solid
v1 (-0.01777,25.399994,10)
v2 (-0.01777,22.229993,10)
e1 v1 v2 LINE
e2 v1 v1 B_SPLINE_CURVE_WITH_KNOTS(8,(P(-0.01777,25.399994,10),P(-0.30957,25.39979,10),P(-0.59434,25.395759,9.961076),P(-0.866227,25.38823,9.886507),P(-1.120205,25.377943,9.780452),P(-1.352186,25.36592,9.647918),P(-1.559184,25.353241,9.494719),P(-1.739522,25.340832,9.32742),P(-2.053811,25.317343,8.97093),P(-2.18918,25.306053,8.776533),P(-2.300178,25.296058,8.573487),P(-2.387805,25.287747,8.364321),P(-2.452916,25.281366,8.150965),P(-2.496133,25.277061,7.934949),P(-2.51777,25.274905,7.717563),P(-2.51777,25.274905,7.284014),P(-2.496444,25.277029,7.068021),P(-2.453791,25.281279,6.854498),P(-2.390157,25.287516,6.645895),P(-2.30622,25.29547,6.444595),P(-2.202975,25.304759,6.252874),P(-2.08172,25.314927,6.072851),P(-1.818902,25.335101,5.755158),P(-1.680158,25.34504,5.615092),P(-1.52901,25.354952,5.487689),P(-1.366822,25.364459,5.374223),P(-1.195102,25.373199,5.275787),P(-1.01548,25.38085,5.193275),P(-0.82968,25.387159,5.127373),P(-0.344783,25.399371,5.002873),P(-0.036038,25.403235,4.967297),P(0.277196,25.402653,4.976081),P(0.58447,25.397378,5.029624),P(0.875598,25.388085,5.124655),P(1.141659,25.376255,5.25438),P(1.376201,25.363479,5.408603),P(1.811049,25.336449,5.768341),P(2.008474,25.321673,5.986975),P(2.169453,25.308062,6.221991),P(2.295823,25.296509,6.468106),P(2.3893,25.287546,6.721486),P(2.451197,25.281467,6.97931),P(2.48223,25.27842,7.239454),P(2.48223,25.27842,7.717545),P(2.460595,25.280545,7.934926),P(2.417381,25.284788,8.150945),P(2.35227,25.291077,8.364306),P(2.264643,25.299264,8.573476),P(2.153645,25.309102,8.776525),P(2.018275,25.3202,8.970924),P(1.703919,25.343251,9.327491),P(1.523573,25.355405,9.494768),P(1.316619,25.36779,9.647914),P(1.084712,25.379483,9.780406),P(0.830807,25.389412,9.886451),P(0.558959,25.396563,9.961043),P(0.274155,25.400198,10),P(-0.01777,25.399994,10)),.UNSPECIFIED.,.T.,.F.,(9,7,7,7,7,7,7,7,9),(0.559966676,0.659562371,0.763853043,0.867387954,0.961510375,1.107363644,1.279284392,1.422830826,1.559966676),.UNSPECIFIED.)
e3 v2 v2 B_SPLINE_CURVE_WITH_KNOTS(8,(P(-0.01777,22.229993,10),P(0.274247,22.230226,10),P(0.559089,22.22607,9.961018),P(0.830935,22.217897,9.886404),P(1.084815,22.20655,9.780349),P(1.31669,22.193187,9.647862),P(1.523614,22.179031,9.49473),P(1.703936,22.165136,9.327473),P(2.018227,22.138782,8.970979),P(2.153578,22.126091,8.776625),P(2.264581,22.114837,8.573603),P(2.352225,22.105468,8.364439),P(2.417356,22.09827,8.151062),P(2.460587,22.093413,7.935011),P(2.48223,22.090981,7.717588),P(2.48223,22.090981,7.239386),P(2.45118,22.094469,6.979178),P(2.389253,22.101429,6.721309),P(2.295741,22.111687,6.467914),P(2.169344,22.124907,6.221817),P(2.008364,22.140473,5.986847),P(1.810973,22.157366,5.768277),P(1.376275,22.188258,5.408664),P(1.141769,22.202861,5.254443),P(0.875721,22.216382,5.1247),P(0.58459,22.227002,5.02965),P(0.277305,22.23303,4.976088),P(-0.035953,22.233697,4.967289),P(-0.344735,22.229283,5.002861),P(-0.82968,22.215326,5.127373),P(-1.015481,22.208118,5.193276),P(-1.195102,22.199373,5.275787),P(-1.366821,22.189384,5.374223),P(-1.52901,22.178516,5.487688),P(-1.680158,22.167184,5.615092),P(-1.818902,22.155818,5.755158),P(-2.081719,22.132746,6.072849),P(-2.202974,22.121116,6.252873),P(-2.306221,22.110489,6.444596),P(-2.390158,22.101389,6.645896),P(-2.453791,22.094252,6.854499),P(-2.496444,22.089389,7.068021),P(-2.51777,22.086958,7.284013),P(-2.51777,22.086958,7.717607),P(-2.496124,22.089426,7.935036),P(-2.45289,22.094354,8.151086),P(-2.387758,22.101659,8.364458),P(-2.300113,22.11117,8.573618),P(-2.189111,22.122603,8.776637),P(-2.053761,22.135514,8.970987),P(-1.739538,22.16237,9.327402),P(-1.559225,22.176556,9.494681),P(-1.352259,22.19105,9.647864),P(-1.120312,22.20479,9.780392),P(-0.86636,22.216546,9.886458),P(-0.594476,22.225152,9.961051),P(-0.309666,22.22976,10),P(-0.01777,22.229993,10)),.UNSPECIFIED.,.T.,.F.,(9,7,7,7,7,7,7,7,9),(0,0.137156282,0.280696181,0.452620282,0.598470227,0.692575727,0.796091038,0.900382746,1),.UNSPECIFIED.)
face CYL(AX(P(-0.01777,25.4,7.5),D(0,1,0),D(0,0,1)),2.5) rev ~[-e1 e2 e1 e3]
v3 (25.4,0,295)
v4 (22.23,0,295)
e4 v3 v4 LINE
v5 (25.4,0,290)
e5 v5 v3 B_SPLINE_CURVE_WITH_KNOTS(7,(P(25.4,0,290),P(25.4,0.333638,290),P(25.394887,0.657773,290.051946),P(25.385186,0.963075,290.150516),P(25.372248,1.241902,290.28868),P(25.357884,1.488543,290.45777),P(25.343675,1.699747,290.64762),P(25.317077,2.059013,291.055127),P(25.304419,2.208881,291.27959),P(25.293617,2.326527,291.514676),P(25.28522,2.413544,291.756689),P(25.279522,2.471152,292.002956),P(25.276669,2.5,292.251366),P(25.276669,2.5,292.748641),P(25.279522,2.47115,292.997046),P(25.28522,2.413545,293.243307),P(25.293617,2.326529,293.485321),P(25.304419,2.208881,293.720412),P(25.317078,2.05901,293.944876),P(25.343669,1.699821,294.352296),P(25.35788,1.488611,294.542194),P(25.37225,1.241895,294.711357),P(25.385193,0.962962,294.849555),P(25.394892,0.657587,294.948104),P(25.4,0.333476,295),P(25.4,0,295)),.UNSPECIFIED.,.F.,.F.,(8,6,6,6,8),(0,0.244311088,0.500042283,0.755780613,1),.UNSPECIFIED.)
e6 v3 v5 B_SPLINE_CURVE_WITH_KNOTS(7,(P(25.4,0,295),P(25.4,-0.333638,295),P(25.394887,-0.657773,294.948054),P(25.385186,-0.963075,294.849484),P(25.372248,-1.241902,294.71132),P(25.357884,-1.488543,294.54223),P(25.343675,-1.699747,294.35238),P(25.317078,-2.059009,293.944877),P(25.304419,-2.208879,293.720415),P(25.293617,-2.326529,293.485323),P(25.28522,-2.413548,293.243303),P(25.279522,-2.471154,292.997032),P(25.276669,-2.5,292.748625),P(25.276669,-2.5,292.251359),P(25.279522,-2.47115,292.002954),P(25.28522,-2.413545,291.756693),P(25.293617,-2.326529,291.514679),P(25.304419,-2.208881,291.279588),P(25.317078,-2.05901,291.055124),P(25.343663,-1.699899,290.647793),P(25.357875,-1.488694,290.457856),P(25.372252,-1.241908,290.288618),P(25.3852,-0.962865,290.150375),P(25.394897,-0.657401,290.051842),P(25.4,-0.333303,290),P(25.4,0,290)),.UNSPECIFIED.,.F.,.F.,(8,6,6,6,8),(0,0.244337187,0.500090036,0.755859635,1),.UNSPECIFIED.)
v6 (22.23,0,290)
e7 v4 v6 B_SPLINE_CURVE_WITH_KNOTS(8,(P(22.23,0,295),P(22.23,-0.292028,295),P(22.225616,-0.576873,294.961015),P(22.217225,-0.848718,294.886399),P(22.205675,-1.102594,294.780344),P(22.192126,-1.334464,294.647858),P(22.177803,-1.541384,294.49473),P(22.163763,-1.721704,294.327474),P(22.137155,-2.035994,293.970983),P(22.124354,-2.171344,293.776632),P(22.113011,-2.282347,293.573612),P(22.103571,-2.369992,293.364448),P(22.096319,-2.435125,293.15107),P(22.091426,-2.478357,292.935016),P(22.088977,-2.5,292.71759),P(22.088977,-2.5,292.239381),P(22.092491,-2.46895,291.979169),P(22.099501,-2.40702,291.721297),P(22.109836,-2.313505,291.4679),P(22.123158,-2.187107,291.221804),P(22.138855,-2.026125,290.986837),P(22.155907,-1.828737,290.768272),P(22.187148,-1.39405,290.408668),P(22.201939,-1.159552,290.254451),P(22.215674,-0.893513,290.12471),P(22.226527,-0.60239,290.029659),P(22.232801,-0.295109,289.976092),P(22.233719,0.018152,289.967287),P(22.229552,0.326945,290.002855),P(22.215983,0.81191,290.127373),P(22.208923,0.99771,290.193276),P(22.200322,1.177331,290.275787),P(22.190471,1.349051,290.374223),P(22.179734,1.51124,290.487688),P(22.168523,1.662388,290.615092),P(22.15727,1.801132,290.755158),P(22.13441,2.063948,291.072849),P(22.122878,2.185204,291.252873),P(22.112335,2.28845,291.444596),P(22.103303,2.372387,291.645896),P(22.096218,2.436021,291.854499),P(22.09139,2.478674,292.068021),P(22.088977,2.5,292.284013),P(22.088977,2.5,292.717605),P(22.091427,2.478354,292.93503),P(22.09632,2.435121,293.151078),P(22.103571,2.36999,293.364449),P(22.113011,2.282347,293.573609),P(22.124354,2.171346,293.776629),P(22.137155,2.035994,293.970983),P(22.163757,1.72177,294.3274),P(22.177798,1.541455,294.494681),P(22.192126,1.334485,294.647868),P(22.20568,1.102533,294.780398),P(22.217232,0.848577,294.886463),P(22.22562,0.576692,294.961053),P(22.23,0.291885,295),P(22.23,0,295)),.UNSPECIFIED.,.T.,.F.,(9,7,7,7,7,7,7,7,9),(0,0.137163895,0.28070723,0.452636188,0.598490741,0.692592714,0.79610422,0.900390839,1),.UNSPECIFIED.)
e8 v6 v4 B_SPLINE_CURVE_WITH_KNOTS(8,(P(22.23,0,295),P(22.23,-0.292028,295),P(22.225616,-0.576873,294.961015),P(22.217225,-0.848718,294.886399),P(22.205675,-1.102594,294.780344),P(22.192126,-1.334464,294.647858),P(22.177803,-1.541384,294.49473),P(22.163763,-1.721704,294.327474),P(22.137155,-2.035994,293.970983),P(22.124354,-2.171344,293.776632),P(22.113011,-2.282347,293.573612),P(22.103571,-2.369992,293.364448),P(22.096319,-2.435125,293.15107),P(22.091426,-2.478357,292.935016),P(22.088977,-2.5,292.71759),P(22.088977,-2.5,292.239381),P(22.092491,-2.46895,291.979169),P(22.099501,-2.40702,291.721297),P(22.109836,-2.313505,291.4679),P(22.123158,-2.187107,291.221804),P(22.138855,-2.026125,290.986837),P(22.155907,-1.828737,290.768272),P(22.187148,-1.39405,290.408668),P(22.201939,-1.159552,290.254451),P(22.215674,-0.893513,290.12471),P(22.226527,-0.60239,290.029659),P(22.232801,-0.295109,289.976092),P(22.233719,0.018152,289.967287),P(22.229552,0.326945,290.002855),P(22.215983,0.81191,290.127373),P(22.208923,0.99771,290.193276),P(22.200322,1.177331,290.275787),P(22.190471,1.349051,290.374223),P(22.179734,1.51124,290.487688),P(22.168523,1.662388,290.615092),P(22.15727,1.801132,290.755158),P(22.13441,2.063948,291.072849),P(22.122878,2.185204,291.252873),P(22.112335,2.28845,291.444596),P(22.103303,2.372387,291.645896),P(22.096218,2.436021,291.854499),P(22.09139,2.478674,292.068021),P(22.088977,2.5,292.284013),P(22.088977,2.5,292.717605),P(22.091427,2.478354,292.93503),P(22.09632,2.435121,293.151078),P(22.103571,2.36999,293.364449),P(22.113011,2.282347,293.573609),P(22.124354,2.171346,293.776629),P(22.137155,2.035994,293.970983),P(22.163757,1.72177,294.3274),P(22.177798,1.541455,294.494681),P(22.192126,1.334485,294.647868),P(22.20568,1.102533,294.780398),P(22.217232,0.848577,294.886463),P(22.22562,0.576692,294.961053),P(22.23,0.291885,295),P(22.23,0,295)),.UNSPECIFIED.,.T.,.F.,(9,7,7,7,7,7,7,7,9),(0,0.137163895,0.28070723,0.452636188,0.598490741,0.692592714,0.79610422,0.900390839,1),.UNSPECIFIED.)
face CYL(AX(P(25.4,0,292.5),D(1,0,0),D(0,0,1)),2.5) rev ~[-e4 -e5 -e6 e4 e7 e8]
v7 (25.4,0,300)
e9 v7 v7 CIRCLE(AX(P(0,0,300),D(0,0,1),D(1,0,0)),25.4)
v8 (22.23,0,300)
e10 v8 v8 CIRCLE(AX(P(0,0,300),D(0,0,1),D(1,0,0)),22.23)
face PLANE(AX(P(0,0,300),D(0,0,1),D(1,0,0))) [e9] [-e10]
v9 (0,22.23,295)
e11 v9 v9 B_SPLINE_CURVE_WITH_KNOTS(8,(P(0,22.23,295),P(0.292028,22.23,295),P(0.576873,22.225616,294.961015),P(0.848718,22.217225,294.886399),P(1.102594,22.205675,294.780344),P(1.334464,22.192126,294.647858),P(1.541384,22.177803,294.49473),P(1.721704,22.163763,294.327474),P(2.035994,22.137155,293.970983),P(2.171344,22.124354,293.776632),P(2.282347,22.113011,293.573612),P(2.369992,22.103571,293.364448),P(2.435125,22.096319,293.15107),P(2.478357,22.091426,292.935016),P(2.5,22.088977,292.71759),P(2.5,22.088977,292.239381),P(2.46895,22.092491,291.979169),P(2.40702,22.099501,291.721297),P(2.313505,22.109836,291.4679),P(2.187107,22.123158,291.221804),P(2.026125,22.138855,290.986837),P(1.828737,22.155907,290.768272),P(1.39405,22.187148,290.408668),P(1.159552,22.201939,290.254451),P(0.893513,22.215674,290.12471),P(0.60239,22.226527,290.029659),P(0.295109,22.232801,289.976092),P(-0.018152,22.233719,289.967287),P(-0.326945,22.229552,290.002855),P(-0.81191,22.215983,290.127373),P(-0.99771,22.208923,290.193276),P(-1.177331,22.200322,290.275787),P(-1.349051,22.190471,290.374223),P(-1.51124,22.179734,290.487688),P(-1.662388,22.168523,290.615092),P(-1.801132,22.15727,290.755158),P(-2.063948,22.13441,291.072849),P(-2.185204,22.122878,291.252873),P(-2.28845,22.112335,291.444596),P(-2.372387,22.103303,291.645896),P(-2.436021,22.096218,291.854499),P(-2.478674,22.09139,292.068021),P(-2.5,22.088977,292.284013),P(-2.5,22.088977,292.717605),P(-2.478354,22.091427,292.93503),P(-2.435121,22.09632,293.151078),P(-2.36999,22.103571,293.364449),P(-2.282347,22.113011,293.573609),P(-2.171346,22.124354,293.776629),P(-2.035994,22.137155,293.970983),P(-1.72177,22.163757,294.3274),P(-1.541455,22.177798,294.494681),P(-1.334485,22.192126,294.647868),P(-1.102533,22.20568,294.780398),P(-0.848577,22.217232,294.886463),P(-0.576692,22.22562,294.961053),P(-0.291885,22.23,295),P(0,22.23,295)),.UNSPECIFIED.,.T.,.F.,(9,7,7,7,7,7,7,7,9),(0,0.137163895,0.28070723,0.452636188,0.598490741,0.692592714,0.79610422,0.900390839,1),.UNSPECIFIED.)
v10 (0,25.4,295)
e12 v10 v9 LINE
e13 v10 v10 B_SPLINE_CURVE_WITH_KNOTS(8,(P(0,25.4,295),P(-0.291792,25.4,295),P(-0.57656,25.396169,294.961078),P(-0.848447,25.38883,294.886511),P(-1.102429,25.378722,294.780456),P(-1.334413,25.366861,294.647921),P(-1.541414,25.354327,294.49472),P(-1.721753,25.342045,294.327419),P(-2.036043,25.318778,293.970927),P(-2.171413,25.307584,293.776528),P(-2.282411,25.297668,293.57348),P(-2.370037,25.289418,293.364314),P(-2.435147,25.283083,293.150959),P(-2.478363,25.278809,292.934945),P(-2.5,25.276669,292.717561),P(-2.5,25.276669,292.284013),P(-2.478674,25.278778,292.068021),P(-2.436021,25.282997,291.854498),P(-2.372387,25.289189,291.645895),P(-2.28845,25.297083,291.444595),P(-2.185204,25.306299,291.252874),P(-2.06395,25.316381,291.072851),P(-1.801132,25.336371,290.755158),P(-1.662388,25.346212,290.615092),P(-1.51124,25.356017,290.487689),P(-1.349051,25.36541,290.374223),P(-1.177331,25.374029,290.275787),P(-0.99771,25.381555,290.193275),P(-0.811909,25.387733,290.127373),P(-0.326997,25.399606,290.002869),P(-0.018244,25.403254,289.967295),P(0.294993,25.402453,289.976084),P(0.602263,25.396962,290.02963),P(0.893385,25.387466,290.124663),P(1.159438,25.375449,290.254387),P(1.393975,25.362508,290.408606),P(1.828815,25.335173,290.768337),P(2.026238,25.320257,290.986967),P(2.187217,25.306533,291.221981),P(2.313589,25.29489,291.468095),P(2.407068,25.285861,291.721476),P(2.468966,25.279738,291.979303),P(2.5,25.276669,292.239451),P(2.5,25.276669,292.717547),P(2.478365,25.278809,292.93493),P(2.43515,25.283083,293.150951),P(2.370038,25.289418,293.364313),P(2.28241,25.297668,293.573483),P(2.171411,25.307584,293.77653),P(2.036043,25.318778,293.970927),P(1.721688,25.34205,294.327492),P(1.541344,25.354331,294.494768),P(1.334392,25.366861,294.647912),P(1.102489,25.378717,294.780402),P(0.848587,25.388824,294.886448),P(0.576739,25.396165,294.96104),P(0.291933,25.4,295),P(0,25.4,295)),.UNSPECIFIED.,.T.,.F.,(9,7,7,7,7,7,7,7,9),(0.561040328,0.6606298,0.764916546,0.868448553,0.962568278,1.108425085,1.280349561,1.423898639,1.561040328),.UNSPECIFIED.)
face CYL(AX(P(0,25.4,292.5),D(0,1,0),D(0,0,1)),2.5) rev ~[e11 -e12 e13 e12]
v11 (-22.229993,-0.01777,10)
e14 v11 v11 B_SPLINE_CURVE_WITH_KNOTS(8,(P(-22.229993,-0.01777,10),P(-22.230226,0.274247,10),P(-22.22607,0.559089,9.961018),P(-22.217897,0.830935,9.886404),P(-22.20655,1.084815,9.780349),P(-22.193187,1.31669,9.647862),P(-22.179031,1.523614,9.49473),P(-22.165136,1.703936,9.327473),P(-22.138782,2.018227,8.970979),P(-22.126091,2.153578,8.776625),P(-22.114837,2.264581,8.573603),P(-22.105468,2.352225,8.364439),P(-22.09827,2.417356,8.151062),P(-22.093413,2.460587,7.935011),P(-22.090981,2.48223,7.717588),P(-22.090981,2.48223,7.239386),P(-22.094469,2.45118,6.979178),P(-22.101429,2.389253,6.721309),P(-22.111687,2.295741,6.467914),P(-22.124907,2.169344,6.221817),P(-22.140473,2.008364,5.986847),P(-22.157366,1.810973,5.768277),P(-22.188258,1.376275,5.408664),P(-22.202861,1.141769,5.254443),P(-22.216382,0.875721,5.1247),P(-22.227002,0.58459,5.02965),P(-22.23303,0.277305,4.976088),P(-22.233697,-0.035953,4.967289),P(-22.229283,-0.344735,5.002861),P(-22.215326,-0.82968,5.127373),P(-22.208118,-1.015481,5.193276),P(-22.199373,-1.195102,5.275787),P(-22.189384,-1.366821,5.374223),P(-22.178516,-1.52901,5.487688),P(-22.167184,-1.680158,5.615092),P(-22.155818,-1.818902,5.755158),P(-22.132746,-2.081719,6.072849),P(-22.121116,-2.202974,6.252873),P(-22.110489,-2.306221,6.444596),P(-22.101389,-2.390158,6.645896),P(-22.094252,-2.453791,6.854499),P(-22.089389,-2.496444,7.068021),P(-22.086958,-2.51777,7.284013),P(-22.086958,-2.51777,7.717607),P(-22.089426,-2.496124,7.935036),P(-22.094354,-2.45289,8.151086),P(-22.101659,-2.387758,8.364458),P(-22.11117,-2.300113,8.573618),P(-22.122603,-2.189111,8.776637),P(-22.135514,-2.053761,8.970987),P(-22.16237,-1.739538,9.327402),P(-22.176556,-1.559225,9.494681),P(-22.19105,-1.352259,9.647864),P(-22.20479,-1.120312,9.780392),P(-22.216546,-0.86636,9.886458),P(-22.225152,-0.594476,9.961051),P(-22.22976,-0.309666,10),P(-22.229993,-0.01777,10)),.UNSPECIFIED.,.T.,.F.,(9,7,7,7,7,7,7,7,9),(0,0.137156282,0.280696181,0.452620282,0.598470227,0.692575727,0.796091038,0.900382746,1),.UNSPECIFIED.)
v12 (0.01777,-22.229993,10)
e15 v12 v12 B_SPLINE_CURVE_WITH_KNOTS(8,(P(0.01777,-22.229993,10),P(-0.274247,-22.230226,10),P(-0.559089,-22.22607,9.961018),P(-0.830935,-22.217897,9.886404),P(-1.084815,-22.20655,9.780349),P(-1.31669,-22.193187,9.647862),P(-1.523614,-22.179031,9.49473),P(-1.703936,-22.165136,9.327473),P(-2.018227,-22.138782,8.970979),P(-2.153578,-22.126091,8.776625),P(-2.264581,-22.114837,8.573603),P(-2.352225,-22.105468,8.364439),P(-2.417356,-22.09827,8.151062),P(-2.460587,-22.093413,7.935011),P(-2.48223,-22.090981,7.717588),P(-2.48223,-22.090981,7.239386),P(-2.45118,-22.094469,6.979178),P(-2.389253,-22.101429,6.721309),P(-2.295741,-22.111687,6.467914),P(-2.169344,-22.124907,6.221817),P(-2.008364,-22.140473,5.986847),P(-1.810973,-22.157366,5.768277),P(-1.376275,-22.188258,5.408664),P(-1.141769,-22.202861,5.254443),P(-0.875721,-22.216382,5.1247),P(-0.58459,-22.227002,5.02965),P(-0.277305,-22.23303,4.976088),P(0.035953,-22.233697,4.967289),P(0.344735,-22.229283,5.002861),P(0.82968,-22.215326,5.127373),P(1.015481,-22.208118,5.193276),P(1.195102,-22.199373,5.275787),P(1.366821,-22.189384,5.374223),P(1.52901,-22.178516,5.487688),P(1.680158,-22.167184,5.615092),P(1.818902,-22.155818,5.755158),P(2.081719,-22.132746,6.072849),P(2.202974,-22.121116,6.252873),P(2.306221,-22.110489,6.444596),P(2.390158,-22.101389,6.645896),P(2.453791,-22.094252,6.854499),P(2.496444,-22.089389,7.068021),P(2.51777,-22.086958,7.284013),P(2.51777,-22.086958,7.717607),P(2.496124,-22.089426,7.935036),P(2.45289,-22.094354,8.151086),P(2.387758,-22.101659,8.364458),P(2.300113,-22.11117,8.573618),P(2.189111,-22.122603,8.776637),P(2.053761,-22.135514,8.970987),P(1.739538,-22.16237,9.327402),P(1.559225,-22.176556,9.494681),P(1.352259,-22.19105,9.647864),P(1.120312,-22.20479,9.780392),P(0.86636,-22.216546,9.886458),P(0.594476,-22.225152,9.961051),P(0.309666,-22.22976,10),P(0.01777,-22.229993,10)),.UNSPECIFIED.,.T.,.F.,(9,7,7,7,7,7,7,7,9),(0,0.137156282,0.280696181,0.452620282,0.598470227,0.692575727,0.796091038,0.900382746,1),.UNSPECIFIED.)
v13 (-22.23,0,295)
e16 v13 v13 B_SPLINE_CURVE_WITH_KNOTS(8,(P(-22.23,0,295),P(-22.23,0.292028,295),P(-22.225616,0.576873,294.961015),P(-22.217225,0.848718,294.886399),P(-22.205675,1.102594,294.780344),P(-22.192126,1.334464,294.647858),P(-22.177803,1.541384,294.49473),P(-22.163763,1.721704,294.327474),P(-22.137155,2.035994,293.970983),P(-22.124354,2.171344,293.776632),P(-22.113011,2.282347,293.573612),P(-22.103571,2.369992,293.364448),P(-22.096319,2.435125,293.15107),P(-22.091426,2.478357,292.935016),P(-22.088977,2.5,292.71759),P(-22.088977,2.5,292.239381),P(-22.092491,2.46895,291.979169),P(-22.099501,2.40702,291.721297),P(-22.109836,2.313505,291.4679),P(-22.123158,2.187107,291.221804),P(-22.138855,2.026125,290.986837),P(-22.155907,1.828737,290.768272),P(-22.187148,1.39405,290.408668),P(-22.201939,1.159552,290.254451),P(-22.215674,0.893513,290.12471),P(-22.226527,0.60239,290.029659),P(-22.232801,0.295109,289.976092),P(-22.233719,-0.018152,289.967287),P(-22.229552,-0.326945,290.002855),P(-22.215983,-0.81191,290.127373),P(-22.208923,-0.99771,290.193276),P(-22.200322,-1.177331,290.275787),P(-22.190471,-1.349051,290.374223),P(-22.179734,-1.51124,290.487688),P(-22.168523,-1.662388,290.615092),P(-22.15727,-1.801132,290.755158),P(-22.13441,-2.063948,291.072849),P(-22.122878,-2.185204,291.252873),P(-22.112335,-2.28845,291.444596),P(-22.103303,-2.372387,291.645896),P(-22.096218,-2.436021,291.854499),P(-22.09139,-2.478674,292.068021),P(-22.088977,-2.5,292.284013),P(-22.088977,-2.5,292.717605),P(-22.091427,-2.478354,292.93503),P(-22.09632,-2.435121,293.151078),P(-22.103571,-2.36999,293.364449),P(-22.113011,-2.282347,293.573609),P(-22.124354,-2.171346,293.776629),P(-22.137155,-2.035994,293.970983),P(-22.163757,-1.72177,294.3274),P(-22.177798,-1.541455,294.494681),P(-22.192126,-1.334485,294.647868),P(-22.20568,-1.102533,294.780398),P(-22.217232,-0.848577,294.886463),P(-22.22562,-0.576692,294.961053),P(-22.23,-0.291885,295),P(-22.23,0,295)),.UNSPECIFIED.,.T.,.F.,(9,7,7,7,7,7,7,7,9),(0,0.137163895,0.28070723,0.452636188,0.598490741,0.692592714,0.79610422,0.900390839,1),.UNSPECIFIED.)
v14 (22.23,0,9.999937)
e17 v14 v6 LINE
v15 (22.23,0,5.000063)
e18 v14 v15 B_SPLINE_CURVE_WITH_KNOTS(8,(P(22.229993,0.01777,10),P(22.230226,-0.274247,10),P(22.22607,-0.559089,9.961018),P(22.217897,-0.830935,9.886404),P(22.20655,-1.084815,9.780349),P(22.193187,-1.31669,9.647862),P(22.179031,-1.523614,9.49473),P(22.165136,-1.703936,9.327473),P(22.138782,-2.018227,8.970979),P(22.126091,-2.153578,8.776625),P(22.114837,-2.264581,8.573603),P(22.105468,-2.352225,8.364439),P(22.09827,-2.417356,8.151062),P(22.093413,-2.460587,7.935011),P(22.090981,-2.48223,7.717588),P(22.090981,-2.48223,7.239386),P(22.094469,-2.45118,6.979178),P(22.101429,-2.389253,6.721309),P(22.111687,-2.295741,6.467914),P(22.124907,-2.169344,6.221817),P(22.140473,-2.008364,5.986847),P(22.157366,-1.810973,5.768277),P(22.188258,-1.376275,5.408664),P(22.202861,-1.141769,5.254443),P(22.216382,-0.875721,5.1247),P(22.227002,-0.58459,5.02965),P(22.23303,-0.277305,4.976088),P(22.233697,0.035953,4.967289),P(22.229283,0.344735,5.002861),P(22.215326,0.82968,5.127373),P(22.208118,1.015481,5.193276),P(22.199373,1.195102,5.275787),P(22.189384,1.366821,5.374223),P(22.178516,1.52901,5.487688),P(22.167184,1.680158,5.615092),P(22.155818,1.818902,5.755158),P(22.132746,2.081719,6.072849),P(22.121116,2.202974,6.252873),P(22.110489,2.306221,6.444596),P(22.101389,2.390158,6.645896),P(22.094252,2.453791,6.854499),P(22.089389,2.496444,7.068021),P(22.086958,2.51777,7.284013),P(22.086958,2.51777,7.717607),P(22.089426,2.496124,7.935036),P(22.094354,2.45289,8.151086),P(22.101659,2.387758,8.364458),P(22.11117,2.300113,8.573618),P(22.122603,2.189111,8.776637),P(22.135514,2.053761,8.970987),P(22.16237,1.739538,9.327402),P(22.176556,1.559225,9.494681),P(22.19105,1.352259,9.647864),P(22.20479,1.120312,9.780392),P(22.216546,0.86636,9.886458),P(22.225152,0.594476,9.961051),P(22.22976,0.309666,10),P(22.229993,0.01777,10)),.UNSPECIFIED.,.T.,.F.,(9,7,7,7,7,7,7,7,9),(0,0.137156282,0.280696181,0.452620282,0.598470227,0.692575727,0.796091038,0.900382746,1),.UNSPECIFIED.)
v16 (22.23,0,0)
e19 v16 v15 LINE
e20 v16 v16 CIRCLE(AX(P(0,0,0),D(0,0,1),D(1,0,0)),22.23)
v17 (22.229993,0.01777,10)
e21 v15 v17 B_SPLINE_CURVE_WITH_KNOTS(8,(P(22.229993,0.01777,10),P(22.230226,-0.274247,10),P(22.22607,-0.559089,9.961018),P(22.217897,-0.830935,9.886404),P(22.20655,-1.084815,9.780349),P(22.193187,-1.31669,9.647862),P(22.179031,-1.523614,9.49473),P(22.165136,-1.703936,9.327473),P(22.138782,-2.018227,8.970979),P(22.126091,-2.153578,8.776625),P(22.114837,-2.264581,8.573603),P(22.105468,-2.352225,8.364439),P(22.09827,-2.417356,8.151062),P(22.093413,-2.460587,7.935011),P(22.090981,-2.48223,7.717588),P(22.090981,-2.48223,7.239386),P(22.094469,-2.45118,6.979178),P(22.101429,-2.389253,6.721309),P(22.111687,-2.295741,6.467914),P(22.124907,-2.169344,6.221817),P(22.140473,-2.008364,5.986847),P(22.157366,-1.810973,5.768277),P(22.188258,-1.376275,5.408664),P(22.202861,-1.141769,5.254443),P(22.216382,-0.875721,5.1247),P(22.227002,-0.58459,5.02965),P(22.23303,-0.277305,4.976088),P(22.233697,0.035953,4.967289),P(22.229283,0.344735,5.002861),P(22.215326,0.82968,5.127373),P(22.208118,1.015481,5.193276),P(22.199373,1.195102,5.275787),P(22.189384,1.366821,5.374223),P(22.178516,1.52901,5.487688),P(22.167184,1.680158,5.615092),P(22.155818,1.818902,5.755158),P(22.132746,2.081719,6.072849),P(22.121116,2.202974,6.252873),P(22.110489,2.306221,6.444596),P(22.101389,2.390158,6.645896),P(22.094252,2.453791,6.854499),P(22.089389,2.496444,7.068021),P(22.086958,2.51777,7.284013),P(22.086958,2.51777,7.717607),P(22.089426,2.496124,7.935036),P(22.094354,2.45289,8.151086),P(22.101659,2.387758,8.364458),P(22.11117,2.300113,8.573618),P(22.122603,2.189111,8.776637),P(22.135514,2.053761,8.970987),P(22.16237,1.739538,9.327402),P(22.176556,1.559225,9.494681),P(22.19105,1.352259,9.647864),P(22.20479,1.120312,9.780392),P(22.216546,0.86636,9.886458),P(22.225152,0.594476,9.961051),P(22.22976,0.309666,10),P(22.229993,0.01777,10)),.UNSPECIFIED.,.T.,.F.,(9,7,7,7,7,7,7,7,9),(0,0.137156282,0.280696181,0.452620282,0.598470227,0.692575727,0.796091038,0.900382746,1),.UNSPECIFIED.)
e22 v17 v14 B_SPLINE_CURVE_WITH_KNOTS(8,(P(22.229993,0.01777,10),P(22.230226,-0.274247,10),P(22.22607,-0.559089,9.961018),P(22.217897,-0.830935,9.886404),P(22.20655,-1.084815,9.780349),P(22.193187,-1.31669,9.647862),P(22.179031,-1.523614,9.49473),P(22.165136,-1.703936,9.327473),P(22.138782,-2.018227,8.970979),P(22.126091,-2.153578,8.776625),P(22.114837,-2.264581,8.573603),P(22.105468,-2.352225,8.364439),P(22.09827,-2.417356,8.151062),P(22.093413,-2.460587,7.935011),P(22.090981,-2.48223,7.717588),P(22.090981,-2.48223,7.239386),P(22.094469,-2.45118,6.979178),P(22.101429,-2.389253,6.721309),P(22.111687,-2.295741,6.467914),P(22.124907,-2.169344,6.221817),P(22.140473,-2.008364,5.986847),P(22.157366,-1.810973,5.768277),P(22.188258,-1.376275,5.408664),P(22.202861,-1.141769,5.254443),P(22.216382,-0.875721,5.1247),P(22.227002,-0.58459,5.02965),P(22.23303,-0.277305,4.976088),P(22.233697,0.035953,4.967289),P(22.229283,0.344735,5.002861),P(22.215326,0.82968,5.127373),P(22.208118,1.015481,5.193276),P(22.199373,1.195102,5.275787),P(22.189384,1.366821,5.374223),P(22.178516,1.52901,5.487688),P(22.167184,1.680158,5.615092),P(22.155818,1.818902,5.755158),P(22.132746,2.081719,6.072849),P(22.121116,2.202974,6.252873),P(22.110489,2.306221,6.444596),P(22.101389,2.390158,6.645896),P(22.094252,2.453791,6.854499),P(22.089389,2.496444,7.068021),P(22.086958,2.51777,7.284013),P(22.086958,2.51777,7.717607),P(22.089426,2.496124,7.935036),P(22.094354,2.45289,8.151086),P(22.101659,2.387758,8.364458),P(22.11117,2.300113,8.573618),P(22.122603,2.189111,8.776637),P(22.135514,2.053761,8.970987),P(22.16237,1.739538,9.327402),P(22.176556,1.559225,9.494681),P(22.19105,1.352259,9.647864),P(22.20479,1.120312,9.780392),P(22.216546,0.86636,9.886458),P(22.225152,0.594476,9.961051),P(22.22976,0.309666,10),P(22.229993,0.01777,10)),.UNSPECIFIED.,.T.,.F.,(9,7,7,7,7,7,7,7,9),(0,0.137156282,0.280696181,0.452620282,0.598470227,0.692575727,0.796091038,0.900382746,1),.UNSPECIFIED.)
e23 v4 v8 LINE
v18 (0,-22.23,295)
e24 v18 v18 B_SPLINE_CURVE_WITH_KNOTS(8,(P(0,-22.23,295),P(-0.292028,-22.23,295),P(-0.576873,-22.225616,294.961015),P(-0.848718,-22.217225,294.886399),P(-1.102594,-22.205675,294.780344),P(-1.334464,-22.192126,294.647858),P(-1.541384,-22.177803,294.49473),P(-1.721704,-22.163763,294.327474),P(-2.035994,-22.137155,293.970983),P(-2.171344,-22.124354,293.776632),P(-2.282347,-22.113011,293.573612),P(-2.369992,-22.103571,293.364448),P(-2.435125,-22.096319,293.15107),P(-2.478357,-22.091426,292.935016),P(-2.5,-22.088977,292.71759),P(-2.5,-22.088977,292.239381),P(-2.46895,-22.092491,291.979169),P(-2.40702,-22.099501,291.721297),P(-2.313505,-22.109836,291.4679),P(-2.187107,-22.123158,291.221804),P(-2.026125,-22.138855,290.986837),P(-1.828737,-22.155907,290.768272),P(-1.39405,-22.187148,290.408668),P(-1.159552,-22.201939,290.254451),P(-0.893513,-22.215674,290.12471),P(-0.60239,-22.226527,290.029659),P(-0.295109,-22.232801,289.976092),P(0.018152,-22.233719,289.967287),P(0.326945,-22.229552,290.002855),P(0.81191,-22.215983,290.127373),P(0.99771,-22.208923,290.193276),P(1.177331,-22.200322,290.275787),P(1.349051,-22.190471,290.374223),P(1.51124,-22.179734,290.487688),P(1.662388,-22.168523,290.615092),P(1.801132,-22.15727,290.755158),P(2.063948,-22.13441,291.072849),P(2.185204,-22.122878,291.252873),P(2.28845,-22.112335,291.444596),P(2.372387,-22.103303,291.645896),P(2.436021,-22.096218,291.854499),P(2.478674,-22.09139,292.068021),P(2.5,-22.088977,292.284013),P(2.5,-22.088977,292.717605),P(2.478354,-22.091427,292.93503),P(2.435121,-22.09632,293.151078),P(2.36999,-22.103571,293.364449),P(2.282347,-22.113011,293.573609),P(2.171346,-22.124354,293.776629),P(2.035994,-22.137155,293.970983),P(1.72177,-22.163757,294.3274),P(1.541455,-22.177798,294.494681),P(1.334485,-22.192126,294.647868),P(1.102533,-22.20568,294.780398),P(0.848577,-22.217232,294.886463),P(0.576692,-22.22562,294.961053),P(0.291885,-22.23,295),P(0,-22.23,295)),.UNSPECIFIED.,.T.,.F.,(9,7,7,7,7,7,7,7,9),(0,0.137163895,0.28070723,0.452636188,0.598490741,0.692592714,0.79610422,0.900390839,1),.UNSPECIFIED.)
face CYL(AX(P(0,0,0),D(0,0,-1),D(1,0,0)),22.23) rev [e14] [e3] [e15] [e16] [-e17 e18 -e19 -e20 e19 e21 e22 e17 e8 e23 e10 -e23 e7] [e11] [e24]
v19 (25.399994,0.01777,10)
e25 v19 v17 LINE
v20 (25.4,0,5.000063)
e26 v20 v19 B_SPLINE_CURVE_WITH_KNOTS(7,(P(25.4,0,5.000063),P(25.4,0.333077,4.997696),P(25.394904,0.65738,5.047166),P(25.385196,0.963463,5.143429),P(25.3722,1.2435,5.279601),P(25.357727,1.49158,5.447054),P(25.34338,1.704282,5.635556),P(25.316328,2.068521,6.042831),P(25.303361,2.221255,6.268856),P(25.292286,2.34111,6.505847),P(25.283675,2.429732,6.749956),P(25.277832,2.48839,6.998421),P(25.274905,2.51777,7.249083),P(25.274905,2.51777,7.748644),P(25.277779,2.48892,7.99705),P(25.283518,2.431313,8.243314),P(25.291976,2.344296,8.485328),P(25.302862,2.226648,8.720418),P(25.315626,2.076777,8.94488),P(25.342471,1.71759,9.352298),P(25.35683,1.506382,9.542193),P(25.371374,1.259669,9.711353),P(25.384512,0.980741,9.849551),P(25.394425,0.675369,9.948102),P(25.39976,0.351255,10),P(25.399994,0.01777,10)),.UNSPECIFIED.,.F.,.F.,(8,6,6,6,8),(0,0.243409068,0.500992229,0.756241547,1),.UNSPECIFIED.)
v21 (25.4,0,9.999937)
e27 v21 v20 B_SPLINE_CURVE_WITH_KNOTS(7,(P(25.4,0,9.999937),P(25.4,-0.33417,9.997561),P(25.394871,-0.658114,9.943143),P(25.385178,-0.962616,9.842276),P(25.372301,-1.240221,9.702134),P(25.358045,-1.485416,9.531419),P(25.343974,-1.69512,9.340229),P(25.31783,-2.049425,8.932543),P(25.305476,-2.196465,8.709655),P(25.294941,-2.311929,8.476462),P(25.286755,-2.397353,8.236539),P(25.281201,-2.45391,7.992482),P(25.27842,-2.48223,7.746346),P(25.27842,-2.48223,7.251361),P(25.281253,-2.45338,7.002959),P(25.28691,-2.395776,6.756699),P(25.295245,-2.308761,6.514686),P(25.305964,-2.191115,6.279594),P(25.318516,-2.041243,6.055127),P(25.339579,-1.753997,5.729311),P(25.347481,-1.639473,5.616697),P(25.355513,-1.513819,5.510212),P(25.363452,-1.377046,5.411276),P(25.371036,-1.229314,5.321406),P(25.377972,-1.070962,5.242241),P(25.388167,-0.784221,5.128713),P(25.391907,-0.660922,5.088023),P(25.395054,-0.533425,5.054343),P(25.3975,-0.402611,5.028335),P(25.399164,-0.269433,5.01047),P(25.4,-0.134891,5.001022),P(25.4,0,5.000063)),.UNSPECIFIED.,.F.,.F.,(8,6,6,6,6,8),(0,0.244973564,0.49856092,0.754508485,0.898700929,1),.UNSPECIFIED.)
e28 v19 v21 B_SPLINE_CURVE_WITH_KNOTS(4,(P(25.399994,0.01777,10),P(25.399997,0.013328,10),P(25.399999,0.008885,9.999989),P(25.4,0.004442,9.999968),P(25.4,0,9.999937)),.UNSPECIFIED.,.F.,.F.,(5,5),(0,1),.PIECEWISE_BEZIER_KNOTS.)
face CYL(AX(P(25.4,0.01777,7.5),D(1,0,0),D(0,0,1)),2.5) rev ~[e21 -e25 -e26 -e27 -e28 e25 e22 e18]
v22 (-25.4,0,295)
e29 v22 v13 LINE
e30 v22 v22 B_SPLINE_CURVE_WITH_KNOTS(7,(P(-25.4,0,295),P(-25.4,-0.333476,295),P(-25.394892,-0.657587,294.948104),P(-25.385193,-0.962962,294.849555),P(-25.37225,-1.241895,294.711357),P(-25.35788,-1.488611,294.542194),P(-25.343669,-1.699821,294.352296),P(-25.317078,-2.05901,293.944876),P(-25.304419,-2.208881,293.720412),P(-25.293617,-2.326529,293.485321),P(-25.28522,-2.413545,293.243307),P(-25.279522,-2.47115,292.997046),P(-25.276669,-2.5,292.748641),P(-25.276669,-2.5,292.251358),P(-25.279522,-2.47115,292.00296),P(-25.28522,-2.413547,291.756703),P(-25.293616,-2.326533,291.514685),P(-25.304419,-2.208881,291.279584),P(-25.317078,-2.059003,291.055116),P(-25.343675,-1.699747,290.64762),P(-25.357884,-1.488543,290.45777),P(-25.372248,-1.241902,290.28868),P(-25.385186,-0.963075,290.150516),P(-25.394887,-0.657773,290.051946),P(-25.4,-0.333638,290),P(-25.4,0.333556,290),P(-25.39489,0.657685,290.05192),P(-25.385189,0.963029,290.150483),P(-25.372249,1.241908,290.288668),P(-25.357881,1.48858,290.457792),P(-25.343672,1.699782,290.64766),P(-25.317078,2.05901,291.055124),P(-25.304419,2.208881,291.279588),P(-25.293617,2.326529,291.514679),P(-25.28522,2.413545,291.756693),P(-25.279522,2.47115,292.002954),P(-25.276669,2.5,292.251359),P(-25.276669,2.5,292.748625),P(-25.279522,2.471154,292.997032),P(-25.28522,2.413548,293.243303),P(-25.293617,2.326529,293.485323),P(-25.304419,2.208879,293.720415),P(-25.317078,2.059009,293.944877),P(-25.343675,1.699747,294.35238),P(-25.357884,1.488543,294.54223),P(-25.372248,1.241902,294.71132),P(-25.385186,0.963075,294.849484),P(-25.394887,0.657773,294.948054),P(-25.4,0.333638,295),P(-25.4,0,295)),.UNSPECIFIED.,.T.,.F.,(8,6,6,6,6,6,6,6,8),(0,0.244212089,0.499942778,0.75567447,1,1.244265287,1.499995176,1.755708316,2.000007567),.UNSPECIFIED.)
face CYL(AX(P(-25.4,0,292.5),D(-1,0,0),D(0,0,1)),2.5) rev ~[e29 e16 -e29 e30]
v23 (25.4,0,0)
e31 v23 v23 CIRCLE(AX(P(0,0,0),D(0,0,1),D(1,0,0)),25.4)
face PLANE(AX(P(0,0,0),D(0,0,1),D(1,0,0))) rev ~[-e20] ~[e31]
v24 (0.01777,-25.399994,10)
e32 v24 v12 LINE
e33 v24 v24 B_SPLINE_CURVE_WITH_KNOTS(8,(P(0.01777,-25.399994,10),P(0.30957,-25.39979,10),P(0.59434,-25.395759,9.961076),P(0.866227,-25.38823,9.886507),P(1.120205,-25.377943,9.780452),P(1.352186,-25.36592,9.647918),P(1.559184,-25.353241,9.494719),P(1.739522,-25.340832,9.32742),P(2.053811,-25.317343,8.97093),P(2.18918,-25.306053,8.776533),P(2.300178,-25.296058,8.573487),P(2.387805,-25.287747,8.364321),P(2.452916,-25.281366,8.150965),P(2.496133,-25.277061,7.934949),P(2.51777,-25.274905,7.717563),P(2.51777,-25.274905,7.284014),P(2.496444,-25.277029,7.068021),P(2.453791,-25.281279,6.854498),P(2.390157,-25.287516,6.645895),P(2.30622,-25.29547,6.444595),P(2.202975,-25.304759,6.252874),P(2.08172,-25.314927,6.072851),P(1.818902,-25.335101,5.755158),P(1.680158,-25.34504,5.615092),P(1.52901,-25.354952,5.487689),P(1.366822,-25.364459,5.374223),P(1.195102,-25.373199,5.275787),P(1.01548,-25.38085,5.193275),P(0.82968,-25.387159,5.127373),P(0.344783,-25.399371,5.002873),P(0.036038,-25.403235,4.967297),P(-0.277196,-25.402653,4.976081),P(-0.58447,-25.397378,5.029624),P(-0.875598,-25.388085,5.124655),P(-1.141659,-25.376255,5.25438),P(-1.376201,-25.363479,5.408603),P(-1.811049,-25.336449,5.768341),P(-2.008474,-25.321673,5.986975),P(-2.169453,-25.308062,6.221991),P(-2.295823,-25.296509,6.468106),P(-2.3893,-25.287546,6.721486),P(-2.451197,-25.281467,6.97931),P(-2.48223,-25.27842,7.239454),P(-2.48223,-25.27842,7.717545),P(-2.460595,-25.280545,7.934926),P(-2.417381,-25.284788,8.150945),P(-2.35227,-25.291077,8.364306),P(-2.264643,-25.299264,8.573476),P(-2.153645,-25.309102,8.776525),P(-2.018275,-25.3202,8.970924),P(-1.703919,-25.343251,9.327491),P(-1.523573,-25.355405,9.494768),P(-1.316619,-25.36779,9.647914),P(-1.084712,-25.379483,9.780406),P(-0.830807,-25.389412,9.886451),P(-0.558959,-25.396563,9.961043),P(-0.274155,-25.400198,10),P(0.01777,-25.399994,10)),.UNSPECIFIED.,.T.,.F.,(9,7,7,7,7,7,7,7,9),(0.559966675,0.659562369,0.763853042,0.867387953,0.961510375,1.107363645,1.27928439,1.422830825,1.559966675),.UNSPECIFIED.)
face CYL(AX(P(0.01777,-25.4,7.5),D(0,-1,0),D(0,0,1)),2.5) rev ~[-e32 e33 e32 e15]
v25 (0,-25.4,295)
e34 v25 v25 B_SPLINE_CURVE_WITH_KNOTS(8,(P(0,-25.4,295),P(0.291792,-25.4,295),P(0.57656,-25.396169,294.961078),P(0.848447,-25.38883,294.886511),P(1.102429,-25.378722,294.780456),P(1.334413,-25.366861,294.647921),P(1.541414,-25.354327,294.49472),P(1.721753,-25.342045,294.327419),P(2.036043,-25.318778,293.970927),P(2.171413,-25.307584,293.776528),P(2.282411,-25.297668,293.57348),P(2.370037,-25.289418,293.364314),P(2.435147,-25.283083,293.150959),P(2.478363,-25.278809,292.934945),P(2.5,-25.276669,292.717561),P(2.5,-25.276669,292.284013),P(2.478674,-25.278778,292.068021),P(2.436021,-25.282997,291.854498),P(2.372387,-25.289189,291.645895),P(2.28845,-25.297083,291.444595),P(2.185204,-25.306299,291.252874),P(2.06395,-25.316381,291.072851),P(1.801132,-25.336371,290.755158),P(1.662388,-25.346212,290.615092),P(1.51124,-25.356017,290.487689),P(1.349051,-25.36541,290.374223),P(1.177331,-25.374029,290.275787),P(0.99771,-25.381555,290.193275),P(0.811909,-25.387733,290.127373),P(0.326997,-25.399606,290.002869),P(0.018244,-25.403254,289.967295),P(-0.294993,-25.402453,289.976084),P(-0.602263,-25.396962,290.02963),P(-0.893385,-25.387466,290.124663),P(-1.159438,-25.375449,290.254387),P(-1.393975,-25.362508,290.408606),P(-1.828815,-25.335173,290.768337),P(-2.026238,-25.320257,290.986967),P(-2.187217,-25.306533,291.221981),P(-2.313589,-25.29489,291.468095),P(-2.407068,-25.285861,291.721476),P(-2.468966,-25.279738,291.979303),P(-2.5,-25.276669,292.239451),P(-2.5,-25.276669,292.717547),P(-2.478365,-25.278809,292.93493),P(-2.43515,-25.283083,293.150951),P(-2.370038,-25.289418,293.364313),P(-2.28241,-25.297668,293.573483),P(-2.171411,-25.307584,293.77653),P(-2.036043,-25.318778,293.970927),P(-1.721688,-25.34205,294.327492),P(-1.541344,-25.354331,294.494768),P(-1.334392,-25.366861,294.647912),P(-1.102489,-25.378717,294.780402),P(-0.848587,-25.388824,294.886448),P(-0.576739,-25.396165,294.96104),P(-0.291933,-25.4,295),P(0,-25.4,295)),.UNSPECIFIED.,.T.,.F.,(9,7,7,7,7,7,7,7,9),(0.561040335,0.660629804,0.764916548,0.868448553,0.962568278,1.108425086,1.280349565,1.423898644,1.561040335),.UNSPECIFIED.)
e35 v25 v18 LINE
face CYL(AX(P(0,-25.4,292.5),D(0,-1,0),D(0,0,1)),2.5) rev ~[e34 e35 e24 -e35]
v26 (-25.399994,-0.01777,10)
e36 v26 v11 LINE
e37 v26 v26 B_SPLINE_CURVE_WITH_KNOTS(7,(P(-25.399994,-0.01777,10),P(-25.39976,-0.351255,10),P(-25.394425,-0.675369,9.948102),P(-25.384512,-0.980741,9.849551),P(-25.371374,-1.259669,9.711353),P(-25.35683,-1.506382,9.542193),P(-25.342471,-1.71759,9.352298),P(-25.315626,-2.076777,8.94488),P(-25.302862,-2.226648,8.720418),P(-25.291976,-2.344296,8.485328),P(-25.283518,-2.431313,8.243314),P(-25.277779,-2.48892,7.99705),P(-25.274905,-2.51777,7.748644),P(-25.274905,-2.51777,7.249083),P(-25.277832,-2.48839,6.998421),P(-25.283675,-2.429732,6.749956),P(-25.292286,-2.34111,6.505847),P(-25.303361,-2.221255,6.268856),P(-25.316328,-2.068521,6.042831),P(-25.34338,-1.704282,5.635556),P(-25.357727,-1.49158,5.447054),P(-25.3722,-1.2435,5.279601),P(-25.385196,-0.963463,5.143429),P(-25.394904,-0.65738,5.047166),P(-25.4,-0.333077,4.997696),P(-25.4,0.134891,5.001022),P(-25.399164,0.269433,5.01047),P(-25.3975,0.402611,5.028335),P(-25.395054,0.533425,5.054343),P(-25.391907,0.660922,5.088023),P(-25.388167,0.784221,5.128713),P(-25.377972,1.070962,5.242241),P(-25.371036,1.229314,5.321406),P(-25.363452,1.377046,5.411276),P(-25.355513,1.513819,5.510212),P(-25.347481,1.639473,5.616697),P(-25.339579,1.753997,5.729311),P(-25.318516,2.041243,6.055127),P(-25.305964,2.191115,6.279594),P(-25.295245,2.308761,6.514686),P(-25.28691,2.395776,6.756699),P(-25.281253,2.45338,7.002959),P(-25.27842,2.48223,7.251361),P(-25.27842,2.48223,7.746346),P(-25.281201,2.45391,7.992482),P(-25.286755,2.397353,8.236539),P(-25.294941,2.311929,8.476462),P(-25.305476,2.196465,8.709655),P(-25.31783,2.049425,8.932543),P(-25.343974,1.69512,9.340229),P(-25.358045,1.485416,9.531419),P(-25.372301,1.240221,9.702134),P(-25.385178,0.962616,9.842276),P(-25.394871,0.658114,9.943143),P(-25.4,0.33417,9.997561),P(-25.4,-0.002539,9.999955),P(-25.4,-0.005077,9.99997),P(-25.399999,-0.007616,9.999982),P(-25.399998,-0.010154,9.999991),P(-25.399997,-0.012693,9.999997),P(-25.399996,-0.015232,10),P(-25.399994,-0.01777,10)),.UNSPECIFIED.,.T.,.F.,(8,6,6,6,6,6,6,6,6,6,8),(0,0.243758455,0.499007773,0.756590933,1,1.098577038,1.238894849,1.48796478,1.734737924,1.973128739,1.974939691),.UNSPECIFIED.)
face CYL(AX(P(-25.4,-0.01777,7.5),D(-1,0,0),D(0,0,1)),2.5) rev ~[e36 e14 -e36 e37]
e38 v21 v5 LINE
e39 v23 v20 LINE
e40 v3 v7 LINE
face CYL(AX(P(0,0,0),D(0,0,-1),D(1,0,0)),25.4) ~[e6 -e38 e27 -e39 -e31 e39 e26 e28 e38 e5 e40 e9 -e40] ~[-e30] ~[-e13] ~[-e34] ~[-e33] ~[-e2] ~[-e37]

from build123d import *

# Parameters (mm, degrees)
ESBO_O1_R                  = 25.4
ESBO_O1_R_2                = 22.23
RESSALTO_EXTRUS_O1_DEPTH   = 300
CORTE_EXTRUS_O1_REACH      = 307.329
CORTE_EXTRUS_O1_END_RADIUS = 22.23
ESBO_O3_R                  = 2.5
PADR_OCIRCULAR1_COUNT      = 4
CORTE_EXTRUS_O2_REACH      = 307.329
CORTE_EXTRUS_O2_END_RADIUS = 22.23
ESBO_O4_R                  = 2.5
PADR_OCIRCULAR2_COUNT      = 4


with BuildPart() as part:
    # Esbo_o1 → Ressalto-extrus_o1 (new body)
    with BuildSketch(Plane.XY):
        Circle(ESBO_O1_R)
        Circle(ESBO_O1_R_2, mode=Mode.SUBTRACT)
    extrude(amount=RESSALTO_EXTRUS_O1_DEPTH)

    # Corte-extrus_o1: up to this cylinder (the profile starts outside it)
    corte_extrus_o1_end = Plane(origin=(0, 0, 292.5), z_dir=(0, 0, -1)) * Cylinder(CORTE_EXTRUS_O1_END_RADIUS, 660.118, mode=Mode.PRIVATE)
    # Esbo_o3 → Corte-extrus_o1 (cut, up to the surface)
    with BuildSketch(Plane(origin=(0, 25.4, 0), x_dir=(1, 0, 0), z_dir=(0, 1, 0)), mode=Mode.PRIVATE) as corte_extrus_o1_sk1:
        with Locations(Location((0, -292.5, 0), (0, 0, 270))):
            Circle(ESBO_O3_R)
    corte_extrus_o1_tool1 = extrude(corte_extrus_o1_sk1.sketch, amount=-CORTE_EXTRUS_O1_REACH, mode=Mode.PRIVATE) - corte_extrus_o1_end
    corte_extrus_o1 = corte_extrus_o1_tool1.solids().sort_by_distance((0, 25.4, 292.5))[0]
    add(corte_extrus_o1, mode=Mode.SUBTRACT)

    # Padr_oCircular1: Corte-extrus_o1 ×4 about axis
    padr_ocircular1_axis = Axis((0, 0, 300), (0, 0, 1))
    for i in range(1, PADR_OCIRCULAR1_COUNT):
        add(corte_extrus_o1.rotate(padr_ocircular1_axis, i * 360 / PADR_OCIRCULAR1_COUNT), mode=Mode.SUBTRACT)

    # Corte-extrus_o2: up to this cylinder (the profile starts outside it)
    corte_extrus_o2_end = Plane(origin=(0, 0, 7.5), z_dir=(0, 0, -1)) * Cylinder(CORTE_EXTRUS_O2_END_RADIUS, 660.118, mode=Mode.PRIVATE)
    # Esbo_o4 → Corte-extrus_o2 (cut, up to the surface)
    with BuildSketch(Plane(origin=(0, 25.4, 0), x_dir=(1, 0, 0), z_dir=(0, 1, 0)), mode=Mode.PRIVATE) as corte_extrus_o2_sk1:
        with Locations(Location((-0.017770346, -7.5, 0), (0, 0, 270))):
            Circle(ESBO_O4_R)
    corte_extrus_o2_tool1 = extrude(corte_extrus_o2_sk1.sketch, amount=-CORTE_EXTRUS_O2_REACH, mode=Mode.PRIVATE) - corte_extrus_o2_end
    corte_extrus_o2 = corte_extrus_o2_tool1.solids().sort_by_distance((-0.01777, 25.4, 7.5))[0]
    add(corte_extrus_o2, mode=Mode.SUBTRACT)

    # Padr_oCircular2: Corte-extrus_o2 ×4 about axis
    padr_ocircular2_axis = Axis((0, 0, 0), (0, 0, 1))
    for i in range(1, PADR_OCIRCULAR2_COUNT):
        add(corte_extrus_o2.rotate(padr_ocircular2_axis, i * 360 / PADR_OCIRCULAR2_COUNT), mode=Mode.SUBTRACT)


solid = part.part
